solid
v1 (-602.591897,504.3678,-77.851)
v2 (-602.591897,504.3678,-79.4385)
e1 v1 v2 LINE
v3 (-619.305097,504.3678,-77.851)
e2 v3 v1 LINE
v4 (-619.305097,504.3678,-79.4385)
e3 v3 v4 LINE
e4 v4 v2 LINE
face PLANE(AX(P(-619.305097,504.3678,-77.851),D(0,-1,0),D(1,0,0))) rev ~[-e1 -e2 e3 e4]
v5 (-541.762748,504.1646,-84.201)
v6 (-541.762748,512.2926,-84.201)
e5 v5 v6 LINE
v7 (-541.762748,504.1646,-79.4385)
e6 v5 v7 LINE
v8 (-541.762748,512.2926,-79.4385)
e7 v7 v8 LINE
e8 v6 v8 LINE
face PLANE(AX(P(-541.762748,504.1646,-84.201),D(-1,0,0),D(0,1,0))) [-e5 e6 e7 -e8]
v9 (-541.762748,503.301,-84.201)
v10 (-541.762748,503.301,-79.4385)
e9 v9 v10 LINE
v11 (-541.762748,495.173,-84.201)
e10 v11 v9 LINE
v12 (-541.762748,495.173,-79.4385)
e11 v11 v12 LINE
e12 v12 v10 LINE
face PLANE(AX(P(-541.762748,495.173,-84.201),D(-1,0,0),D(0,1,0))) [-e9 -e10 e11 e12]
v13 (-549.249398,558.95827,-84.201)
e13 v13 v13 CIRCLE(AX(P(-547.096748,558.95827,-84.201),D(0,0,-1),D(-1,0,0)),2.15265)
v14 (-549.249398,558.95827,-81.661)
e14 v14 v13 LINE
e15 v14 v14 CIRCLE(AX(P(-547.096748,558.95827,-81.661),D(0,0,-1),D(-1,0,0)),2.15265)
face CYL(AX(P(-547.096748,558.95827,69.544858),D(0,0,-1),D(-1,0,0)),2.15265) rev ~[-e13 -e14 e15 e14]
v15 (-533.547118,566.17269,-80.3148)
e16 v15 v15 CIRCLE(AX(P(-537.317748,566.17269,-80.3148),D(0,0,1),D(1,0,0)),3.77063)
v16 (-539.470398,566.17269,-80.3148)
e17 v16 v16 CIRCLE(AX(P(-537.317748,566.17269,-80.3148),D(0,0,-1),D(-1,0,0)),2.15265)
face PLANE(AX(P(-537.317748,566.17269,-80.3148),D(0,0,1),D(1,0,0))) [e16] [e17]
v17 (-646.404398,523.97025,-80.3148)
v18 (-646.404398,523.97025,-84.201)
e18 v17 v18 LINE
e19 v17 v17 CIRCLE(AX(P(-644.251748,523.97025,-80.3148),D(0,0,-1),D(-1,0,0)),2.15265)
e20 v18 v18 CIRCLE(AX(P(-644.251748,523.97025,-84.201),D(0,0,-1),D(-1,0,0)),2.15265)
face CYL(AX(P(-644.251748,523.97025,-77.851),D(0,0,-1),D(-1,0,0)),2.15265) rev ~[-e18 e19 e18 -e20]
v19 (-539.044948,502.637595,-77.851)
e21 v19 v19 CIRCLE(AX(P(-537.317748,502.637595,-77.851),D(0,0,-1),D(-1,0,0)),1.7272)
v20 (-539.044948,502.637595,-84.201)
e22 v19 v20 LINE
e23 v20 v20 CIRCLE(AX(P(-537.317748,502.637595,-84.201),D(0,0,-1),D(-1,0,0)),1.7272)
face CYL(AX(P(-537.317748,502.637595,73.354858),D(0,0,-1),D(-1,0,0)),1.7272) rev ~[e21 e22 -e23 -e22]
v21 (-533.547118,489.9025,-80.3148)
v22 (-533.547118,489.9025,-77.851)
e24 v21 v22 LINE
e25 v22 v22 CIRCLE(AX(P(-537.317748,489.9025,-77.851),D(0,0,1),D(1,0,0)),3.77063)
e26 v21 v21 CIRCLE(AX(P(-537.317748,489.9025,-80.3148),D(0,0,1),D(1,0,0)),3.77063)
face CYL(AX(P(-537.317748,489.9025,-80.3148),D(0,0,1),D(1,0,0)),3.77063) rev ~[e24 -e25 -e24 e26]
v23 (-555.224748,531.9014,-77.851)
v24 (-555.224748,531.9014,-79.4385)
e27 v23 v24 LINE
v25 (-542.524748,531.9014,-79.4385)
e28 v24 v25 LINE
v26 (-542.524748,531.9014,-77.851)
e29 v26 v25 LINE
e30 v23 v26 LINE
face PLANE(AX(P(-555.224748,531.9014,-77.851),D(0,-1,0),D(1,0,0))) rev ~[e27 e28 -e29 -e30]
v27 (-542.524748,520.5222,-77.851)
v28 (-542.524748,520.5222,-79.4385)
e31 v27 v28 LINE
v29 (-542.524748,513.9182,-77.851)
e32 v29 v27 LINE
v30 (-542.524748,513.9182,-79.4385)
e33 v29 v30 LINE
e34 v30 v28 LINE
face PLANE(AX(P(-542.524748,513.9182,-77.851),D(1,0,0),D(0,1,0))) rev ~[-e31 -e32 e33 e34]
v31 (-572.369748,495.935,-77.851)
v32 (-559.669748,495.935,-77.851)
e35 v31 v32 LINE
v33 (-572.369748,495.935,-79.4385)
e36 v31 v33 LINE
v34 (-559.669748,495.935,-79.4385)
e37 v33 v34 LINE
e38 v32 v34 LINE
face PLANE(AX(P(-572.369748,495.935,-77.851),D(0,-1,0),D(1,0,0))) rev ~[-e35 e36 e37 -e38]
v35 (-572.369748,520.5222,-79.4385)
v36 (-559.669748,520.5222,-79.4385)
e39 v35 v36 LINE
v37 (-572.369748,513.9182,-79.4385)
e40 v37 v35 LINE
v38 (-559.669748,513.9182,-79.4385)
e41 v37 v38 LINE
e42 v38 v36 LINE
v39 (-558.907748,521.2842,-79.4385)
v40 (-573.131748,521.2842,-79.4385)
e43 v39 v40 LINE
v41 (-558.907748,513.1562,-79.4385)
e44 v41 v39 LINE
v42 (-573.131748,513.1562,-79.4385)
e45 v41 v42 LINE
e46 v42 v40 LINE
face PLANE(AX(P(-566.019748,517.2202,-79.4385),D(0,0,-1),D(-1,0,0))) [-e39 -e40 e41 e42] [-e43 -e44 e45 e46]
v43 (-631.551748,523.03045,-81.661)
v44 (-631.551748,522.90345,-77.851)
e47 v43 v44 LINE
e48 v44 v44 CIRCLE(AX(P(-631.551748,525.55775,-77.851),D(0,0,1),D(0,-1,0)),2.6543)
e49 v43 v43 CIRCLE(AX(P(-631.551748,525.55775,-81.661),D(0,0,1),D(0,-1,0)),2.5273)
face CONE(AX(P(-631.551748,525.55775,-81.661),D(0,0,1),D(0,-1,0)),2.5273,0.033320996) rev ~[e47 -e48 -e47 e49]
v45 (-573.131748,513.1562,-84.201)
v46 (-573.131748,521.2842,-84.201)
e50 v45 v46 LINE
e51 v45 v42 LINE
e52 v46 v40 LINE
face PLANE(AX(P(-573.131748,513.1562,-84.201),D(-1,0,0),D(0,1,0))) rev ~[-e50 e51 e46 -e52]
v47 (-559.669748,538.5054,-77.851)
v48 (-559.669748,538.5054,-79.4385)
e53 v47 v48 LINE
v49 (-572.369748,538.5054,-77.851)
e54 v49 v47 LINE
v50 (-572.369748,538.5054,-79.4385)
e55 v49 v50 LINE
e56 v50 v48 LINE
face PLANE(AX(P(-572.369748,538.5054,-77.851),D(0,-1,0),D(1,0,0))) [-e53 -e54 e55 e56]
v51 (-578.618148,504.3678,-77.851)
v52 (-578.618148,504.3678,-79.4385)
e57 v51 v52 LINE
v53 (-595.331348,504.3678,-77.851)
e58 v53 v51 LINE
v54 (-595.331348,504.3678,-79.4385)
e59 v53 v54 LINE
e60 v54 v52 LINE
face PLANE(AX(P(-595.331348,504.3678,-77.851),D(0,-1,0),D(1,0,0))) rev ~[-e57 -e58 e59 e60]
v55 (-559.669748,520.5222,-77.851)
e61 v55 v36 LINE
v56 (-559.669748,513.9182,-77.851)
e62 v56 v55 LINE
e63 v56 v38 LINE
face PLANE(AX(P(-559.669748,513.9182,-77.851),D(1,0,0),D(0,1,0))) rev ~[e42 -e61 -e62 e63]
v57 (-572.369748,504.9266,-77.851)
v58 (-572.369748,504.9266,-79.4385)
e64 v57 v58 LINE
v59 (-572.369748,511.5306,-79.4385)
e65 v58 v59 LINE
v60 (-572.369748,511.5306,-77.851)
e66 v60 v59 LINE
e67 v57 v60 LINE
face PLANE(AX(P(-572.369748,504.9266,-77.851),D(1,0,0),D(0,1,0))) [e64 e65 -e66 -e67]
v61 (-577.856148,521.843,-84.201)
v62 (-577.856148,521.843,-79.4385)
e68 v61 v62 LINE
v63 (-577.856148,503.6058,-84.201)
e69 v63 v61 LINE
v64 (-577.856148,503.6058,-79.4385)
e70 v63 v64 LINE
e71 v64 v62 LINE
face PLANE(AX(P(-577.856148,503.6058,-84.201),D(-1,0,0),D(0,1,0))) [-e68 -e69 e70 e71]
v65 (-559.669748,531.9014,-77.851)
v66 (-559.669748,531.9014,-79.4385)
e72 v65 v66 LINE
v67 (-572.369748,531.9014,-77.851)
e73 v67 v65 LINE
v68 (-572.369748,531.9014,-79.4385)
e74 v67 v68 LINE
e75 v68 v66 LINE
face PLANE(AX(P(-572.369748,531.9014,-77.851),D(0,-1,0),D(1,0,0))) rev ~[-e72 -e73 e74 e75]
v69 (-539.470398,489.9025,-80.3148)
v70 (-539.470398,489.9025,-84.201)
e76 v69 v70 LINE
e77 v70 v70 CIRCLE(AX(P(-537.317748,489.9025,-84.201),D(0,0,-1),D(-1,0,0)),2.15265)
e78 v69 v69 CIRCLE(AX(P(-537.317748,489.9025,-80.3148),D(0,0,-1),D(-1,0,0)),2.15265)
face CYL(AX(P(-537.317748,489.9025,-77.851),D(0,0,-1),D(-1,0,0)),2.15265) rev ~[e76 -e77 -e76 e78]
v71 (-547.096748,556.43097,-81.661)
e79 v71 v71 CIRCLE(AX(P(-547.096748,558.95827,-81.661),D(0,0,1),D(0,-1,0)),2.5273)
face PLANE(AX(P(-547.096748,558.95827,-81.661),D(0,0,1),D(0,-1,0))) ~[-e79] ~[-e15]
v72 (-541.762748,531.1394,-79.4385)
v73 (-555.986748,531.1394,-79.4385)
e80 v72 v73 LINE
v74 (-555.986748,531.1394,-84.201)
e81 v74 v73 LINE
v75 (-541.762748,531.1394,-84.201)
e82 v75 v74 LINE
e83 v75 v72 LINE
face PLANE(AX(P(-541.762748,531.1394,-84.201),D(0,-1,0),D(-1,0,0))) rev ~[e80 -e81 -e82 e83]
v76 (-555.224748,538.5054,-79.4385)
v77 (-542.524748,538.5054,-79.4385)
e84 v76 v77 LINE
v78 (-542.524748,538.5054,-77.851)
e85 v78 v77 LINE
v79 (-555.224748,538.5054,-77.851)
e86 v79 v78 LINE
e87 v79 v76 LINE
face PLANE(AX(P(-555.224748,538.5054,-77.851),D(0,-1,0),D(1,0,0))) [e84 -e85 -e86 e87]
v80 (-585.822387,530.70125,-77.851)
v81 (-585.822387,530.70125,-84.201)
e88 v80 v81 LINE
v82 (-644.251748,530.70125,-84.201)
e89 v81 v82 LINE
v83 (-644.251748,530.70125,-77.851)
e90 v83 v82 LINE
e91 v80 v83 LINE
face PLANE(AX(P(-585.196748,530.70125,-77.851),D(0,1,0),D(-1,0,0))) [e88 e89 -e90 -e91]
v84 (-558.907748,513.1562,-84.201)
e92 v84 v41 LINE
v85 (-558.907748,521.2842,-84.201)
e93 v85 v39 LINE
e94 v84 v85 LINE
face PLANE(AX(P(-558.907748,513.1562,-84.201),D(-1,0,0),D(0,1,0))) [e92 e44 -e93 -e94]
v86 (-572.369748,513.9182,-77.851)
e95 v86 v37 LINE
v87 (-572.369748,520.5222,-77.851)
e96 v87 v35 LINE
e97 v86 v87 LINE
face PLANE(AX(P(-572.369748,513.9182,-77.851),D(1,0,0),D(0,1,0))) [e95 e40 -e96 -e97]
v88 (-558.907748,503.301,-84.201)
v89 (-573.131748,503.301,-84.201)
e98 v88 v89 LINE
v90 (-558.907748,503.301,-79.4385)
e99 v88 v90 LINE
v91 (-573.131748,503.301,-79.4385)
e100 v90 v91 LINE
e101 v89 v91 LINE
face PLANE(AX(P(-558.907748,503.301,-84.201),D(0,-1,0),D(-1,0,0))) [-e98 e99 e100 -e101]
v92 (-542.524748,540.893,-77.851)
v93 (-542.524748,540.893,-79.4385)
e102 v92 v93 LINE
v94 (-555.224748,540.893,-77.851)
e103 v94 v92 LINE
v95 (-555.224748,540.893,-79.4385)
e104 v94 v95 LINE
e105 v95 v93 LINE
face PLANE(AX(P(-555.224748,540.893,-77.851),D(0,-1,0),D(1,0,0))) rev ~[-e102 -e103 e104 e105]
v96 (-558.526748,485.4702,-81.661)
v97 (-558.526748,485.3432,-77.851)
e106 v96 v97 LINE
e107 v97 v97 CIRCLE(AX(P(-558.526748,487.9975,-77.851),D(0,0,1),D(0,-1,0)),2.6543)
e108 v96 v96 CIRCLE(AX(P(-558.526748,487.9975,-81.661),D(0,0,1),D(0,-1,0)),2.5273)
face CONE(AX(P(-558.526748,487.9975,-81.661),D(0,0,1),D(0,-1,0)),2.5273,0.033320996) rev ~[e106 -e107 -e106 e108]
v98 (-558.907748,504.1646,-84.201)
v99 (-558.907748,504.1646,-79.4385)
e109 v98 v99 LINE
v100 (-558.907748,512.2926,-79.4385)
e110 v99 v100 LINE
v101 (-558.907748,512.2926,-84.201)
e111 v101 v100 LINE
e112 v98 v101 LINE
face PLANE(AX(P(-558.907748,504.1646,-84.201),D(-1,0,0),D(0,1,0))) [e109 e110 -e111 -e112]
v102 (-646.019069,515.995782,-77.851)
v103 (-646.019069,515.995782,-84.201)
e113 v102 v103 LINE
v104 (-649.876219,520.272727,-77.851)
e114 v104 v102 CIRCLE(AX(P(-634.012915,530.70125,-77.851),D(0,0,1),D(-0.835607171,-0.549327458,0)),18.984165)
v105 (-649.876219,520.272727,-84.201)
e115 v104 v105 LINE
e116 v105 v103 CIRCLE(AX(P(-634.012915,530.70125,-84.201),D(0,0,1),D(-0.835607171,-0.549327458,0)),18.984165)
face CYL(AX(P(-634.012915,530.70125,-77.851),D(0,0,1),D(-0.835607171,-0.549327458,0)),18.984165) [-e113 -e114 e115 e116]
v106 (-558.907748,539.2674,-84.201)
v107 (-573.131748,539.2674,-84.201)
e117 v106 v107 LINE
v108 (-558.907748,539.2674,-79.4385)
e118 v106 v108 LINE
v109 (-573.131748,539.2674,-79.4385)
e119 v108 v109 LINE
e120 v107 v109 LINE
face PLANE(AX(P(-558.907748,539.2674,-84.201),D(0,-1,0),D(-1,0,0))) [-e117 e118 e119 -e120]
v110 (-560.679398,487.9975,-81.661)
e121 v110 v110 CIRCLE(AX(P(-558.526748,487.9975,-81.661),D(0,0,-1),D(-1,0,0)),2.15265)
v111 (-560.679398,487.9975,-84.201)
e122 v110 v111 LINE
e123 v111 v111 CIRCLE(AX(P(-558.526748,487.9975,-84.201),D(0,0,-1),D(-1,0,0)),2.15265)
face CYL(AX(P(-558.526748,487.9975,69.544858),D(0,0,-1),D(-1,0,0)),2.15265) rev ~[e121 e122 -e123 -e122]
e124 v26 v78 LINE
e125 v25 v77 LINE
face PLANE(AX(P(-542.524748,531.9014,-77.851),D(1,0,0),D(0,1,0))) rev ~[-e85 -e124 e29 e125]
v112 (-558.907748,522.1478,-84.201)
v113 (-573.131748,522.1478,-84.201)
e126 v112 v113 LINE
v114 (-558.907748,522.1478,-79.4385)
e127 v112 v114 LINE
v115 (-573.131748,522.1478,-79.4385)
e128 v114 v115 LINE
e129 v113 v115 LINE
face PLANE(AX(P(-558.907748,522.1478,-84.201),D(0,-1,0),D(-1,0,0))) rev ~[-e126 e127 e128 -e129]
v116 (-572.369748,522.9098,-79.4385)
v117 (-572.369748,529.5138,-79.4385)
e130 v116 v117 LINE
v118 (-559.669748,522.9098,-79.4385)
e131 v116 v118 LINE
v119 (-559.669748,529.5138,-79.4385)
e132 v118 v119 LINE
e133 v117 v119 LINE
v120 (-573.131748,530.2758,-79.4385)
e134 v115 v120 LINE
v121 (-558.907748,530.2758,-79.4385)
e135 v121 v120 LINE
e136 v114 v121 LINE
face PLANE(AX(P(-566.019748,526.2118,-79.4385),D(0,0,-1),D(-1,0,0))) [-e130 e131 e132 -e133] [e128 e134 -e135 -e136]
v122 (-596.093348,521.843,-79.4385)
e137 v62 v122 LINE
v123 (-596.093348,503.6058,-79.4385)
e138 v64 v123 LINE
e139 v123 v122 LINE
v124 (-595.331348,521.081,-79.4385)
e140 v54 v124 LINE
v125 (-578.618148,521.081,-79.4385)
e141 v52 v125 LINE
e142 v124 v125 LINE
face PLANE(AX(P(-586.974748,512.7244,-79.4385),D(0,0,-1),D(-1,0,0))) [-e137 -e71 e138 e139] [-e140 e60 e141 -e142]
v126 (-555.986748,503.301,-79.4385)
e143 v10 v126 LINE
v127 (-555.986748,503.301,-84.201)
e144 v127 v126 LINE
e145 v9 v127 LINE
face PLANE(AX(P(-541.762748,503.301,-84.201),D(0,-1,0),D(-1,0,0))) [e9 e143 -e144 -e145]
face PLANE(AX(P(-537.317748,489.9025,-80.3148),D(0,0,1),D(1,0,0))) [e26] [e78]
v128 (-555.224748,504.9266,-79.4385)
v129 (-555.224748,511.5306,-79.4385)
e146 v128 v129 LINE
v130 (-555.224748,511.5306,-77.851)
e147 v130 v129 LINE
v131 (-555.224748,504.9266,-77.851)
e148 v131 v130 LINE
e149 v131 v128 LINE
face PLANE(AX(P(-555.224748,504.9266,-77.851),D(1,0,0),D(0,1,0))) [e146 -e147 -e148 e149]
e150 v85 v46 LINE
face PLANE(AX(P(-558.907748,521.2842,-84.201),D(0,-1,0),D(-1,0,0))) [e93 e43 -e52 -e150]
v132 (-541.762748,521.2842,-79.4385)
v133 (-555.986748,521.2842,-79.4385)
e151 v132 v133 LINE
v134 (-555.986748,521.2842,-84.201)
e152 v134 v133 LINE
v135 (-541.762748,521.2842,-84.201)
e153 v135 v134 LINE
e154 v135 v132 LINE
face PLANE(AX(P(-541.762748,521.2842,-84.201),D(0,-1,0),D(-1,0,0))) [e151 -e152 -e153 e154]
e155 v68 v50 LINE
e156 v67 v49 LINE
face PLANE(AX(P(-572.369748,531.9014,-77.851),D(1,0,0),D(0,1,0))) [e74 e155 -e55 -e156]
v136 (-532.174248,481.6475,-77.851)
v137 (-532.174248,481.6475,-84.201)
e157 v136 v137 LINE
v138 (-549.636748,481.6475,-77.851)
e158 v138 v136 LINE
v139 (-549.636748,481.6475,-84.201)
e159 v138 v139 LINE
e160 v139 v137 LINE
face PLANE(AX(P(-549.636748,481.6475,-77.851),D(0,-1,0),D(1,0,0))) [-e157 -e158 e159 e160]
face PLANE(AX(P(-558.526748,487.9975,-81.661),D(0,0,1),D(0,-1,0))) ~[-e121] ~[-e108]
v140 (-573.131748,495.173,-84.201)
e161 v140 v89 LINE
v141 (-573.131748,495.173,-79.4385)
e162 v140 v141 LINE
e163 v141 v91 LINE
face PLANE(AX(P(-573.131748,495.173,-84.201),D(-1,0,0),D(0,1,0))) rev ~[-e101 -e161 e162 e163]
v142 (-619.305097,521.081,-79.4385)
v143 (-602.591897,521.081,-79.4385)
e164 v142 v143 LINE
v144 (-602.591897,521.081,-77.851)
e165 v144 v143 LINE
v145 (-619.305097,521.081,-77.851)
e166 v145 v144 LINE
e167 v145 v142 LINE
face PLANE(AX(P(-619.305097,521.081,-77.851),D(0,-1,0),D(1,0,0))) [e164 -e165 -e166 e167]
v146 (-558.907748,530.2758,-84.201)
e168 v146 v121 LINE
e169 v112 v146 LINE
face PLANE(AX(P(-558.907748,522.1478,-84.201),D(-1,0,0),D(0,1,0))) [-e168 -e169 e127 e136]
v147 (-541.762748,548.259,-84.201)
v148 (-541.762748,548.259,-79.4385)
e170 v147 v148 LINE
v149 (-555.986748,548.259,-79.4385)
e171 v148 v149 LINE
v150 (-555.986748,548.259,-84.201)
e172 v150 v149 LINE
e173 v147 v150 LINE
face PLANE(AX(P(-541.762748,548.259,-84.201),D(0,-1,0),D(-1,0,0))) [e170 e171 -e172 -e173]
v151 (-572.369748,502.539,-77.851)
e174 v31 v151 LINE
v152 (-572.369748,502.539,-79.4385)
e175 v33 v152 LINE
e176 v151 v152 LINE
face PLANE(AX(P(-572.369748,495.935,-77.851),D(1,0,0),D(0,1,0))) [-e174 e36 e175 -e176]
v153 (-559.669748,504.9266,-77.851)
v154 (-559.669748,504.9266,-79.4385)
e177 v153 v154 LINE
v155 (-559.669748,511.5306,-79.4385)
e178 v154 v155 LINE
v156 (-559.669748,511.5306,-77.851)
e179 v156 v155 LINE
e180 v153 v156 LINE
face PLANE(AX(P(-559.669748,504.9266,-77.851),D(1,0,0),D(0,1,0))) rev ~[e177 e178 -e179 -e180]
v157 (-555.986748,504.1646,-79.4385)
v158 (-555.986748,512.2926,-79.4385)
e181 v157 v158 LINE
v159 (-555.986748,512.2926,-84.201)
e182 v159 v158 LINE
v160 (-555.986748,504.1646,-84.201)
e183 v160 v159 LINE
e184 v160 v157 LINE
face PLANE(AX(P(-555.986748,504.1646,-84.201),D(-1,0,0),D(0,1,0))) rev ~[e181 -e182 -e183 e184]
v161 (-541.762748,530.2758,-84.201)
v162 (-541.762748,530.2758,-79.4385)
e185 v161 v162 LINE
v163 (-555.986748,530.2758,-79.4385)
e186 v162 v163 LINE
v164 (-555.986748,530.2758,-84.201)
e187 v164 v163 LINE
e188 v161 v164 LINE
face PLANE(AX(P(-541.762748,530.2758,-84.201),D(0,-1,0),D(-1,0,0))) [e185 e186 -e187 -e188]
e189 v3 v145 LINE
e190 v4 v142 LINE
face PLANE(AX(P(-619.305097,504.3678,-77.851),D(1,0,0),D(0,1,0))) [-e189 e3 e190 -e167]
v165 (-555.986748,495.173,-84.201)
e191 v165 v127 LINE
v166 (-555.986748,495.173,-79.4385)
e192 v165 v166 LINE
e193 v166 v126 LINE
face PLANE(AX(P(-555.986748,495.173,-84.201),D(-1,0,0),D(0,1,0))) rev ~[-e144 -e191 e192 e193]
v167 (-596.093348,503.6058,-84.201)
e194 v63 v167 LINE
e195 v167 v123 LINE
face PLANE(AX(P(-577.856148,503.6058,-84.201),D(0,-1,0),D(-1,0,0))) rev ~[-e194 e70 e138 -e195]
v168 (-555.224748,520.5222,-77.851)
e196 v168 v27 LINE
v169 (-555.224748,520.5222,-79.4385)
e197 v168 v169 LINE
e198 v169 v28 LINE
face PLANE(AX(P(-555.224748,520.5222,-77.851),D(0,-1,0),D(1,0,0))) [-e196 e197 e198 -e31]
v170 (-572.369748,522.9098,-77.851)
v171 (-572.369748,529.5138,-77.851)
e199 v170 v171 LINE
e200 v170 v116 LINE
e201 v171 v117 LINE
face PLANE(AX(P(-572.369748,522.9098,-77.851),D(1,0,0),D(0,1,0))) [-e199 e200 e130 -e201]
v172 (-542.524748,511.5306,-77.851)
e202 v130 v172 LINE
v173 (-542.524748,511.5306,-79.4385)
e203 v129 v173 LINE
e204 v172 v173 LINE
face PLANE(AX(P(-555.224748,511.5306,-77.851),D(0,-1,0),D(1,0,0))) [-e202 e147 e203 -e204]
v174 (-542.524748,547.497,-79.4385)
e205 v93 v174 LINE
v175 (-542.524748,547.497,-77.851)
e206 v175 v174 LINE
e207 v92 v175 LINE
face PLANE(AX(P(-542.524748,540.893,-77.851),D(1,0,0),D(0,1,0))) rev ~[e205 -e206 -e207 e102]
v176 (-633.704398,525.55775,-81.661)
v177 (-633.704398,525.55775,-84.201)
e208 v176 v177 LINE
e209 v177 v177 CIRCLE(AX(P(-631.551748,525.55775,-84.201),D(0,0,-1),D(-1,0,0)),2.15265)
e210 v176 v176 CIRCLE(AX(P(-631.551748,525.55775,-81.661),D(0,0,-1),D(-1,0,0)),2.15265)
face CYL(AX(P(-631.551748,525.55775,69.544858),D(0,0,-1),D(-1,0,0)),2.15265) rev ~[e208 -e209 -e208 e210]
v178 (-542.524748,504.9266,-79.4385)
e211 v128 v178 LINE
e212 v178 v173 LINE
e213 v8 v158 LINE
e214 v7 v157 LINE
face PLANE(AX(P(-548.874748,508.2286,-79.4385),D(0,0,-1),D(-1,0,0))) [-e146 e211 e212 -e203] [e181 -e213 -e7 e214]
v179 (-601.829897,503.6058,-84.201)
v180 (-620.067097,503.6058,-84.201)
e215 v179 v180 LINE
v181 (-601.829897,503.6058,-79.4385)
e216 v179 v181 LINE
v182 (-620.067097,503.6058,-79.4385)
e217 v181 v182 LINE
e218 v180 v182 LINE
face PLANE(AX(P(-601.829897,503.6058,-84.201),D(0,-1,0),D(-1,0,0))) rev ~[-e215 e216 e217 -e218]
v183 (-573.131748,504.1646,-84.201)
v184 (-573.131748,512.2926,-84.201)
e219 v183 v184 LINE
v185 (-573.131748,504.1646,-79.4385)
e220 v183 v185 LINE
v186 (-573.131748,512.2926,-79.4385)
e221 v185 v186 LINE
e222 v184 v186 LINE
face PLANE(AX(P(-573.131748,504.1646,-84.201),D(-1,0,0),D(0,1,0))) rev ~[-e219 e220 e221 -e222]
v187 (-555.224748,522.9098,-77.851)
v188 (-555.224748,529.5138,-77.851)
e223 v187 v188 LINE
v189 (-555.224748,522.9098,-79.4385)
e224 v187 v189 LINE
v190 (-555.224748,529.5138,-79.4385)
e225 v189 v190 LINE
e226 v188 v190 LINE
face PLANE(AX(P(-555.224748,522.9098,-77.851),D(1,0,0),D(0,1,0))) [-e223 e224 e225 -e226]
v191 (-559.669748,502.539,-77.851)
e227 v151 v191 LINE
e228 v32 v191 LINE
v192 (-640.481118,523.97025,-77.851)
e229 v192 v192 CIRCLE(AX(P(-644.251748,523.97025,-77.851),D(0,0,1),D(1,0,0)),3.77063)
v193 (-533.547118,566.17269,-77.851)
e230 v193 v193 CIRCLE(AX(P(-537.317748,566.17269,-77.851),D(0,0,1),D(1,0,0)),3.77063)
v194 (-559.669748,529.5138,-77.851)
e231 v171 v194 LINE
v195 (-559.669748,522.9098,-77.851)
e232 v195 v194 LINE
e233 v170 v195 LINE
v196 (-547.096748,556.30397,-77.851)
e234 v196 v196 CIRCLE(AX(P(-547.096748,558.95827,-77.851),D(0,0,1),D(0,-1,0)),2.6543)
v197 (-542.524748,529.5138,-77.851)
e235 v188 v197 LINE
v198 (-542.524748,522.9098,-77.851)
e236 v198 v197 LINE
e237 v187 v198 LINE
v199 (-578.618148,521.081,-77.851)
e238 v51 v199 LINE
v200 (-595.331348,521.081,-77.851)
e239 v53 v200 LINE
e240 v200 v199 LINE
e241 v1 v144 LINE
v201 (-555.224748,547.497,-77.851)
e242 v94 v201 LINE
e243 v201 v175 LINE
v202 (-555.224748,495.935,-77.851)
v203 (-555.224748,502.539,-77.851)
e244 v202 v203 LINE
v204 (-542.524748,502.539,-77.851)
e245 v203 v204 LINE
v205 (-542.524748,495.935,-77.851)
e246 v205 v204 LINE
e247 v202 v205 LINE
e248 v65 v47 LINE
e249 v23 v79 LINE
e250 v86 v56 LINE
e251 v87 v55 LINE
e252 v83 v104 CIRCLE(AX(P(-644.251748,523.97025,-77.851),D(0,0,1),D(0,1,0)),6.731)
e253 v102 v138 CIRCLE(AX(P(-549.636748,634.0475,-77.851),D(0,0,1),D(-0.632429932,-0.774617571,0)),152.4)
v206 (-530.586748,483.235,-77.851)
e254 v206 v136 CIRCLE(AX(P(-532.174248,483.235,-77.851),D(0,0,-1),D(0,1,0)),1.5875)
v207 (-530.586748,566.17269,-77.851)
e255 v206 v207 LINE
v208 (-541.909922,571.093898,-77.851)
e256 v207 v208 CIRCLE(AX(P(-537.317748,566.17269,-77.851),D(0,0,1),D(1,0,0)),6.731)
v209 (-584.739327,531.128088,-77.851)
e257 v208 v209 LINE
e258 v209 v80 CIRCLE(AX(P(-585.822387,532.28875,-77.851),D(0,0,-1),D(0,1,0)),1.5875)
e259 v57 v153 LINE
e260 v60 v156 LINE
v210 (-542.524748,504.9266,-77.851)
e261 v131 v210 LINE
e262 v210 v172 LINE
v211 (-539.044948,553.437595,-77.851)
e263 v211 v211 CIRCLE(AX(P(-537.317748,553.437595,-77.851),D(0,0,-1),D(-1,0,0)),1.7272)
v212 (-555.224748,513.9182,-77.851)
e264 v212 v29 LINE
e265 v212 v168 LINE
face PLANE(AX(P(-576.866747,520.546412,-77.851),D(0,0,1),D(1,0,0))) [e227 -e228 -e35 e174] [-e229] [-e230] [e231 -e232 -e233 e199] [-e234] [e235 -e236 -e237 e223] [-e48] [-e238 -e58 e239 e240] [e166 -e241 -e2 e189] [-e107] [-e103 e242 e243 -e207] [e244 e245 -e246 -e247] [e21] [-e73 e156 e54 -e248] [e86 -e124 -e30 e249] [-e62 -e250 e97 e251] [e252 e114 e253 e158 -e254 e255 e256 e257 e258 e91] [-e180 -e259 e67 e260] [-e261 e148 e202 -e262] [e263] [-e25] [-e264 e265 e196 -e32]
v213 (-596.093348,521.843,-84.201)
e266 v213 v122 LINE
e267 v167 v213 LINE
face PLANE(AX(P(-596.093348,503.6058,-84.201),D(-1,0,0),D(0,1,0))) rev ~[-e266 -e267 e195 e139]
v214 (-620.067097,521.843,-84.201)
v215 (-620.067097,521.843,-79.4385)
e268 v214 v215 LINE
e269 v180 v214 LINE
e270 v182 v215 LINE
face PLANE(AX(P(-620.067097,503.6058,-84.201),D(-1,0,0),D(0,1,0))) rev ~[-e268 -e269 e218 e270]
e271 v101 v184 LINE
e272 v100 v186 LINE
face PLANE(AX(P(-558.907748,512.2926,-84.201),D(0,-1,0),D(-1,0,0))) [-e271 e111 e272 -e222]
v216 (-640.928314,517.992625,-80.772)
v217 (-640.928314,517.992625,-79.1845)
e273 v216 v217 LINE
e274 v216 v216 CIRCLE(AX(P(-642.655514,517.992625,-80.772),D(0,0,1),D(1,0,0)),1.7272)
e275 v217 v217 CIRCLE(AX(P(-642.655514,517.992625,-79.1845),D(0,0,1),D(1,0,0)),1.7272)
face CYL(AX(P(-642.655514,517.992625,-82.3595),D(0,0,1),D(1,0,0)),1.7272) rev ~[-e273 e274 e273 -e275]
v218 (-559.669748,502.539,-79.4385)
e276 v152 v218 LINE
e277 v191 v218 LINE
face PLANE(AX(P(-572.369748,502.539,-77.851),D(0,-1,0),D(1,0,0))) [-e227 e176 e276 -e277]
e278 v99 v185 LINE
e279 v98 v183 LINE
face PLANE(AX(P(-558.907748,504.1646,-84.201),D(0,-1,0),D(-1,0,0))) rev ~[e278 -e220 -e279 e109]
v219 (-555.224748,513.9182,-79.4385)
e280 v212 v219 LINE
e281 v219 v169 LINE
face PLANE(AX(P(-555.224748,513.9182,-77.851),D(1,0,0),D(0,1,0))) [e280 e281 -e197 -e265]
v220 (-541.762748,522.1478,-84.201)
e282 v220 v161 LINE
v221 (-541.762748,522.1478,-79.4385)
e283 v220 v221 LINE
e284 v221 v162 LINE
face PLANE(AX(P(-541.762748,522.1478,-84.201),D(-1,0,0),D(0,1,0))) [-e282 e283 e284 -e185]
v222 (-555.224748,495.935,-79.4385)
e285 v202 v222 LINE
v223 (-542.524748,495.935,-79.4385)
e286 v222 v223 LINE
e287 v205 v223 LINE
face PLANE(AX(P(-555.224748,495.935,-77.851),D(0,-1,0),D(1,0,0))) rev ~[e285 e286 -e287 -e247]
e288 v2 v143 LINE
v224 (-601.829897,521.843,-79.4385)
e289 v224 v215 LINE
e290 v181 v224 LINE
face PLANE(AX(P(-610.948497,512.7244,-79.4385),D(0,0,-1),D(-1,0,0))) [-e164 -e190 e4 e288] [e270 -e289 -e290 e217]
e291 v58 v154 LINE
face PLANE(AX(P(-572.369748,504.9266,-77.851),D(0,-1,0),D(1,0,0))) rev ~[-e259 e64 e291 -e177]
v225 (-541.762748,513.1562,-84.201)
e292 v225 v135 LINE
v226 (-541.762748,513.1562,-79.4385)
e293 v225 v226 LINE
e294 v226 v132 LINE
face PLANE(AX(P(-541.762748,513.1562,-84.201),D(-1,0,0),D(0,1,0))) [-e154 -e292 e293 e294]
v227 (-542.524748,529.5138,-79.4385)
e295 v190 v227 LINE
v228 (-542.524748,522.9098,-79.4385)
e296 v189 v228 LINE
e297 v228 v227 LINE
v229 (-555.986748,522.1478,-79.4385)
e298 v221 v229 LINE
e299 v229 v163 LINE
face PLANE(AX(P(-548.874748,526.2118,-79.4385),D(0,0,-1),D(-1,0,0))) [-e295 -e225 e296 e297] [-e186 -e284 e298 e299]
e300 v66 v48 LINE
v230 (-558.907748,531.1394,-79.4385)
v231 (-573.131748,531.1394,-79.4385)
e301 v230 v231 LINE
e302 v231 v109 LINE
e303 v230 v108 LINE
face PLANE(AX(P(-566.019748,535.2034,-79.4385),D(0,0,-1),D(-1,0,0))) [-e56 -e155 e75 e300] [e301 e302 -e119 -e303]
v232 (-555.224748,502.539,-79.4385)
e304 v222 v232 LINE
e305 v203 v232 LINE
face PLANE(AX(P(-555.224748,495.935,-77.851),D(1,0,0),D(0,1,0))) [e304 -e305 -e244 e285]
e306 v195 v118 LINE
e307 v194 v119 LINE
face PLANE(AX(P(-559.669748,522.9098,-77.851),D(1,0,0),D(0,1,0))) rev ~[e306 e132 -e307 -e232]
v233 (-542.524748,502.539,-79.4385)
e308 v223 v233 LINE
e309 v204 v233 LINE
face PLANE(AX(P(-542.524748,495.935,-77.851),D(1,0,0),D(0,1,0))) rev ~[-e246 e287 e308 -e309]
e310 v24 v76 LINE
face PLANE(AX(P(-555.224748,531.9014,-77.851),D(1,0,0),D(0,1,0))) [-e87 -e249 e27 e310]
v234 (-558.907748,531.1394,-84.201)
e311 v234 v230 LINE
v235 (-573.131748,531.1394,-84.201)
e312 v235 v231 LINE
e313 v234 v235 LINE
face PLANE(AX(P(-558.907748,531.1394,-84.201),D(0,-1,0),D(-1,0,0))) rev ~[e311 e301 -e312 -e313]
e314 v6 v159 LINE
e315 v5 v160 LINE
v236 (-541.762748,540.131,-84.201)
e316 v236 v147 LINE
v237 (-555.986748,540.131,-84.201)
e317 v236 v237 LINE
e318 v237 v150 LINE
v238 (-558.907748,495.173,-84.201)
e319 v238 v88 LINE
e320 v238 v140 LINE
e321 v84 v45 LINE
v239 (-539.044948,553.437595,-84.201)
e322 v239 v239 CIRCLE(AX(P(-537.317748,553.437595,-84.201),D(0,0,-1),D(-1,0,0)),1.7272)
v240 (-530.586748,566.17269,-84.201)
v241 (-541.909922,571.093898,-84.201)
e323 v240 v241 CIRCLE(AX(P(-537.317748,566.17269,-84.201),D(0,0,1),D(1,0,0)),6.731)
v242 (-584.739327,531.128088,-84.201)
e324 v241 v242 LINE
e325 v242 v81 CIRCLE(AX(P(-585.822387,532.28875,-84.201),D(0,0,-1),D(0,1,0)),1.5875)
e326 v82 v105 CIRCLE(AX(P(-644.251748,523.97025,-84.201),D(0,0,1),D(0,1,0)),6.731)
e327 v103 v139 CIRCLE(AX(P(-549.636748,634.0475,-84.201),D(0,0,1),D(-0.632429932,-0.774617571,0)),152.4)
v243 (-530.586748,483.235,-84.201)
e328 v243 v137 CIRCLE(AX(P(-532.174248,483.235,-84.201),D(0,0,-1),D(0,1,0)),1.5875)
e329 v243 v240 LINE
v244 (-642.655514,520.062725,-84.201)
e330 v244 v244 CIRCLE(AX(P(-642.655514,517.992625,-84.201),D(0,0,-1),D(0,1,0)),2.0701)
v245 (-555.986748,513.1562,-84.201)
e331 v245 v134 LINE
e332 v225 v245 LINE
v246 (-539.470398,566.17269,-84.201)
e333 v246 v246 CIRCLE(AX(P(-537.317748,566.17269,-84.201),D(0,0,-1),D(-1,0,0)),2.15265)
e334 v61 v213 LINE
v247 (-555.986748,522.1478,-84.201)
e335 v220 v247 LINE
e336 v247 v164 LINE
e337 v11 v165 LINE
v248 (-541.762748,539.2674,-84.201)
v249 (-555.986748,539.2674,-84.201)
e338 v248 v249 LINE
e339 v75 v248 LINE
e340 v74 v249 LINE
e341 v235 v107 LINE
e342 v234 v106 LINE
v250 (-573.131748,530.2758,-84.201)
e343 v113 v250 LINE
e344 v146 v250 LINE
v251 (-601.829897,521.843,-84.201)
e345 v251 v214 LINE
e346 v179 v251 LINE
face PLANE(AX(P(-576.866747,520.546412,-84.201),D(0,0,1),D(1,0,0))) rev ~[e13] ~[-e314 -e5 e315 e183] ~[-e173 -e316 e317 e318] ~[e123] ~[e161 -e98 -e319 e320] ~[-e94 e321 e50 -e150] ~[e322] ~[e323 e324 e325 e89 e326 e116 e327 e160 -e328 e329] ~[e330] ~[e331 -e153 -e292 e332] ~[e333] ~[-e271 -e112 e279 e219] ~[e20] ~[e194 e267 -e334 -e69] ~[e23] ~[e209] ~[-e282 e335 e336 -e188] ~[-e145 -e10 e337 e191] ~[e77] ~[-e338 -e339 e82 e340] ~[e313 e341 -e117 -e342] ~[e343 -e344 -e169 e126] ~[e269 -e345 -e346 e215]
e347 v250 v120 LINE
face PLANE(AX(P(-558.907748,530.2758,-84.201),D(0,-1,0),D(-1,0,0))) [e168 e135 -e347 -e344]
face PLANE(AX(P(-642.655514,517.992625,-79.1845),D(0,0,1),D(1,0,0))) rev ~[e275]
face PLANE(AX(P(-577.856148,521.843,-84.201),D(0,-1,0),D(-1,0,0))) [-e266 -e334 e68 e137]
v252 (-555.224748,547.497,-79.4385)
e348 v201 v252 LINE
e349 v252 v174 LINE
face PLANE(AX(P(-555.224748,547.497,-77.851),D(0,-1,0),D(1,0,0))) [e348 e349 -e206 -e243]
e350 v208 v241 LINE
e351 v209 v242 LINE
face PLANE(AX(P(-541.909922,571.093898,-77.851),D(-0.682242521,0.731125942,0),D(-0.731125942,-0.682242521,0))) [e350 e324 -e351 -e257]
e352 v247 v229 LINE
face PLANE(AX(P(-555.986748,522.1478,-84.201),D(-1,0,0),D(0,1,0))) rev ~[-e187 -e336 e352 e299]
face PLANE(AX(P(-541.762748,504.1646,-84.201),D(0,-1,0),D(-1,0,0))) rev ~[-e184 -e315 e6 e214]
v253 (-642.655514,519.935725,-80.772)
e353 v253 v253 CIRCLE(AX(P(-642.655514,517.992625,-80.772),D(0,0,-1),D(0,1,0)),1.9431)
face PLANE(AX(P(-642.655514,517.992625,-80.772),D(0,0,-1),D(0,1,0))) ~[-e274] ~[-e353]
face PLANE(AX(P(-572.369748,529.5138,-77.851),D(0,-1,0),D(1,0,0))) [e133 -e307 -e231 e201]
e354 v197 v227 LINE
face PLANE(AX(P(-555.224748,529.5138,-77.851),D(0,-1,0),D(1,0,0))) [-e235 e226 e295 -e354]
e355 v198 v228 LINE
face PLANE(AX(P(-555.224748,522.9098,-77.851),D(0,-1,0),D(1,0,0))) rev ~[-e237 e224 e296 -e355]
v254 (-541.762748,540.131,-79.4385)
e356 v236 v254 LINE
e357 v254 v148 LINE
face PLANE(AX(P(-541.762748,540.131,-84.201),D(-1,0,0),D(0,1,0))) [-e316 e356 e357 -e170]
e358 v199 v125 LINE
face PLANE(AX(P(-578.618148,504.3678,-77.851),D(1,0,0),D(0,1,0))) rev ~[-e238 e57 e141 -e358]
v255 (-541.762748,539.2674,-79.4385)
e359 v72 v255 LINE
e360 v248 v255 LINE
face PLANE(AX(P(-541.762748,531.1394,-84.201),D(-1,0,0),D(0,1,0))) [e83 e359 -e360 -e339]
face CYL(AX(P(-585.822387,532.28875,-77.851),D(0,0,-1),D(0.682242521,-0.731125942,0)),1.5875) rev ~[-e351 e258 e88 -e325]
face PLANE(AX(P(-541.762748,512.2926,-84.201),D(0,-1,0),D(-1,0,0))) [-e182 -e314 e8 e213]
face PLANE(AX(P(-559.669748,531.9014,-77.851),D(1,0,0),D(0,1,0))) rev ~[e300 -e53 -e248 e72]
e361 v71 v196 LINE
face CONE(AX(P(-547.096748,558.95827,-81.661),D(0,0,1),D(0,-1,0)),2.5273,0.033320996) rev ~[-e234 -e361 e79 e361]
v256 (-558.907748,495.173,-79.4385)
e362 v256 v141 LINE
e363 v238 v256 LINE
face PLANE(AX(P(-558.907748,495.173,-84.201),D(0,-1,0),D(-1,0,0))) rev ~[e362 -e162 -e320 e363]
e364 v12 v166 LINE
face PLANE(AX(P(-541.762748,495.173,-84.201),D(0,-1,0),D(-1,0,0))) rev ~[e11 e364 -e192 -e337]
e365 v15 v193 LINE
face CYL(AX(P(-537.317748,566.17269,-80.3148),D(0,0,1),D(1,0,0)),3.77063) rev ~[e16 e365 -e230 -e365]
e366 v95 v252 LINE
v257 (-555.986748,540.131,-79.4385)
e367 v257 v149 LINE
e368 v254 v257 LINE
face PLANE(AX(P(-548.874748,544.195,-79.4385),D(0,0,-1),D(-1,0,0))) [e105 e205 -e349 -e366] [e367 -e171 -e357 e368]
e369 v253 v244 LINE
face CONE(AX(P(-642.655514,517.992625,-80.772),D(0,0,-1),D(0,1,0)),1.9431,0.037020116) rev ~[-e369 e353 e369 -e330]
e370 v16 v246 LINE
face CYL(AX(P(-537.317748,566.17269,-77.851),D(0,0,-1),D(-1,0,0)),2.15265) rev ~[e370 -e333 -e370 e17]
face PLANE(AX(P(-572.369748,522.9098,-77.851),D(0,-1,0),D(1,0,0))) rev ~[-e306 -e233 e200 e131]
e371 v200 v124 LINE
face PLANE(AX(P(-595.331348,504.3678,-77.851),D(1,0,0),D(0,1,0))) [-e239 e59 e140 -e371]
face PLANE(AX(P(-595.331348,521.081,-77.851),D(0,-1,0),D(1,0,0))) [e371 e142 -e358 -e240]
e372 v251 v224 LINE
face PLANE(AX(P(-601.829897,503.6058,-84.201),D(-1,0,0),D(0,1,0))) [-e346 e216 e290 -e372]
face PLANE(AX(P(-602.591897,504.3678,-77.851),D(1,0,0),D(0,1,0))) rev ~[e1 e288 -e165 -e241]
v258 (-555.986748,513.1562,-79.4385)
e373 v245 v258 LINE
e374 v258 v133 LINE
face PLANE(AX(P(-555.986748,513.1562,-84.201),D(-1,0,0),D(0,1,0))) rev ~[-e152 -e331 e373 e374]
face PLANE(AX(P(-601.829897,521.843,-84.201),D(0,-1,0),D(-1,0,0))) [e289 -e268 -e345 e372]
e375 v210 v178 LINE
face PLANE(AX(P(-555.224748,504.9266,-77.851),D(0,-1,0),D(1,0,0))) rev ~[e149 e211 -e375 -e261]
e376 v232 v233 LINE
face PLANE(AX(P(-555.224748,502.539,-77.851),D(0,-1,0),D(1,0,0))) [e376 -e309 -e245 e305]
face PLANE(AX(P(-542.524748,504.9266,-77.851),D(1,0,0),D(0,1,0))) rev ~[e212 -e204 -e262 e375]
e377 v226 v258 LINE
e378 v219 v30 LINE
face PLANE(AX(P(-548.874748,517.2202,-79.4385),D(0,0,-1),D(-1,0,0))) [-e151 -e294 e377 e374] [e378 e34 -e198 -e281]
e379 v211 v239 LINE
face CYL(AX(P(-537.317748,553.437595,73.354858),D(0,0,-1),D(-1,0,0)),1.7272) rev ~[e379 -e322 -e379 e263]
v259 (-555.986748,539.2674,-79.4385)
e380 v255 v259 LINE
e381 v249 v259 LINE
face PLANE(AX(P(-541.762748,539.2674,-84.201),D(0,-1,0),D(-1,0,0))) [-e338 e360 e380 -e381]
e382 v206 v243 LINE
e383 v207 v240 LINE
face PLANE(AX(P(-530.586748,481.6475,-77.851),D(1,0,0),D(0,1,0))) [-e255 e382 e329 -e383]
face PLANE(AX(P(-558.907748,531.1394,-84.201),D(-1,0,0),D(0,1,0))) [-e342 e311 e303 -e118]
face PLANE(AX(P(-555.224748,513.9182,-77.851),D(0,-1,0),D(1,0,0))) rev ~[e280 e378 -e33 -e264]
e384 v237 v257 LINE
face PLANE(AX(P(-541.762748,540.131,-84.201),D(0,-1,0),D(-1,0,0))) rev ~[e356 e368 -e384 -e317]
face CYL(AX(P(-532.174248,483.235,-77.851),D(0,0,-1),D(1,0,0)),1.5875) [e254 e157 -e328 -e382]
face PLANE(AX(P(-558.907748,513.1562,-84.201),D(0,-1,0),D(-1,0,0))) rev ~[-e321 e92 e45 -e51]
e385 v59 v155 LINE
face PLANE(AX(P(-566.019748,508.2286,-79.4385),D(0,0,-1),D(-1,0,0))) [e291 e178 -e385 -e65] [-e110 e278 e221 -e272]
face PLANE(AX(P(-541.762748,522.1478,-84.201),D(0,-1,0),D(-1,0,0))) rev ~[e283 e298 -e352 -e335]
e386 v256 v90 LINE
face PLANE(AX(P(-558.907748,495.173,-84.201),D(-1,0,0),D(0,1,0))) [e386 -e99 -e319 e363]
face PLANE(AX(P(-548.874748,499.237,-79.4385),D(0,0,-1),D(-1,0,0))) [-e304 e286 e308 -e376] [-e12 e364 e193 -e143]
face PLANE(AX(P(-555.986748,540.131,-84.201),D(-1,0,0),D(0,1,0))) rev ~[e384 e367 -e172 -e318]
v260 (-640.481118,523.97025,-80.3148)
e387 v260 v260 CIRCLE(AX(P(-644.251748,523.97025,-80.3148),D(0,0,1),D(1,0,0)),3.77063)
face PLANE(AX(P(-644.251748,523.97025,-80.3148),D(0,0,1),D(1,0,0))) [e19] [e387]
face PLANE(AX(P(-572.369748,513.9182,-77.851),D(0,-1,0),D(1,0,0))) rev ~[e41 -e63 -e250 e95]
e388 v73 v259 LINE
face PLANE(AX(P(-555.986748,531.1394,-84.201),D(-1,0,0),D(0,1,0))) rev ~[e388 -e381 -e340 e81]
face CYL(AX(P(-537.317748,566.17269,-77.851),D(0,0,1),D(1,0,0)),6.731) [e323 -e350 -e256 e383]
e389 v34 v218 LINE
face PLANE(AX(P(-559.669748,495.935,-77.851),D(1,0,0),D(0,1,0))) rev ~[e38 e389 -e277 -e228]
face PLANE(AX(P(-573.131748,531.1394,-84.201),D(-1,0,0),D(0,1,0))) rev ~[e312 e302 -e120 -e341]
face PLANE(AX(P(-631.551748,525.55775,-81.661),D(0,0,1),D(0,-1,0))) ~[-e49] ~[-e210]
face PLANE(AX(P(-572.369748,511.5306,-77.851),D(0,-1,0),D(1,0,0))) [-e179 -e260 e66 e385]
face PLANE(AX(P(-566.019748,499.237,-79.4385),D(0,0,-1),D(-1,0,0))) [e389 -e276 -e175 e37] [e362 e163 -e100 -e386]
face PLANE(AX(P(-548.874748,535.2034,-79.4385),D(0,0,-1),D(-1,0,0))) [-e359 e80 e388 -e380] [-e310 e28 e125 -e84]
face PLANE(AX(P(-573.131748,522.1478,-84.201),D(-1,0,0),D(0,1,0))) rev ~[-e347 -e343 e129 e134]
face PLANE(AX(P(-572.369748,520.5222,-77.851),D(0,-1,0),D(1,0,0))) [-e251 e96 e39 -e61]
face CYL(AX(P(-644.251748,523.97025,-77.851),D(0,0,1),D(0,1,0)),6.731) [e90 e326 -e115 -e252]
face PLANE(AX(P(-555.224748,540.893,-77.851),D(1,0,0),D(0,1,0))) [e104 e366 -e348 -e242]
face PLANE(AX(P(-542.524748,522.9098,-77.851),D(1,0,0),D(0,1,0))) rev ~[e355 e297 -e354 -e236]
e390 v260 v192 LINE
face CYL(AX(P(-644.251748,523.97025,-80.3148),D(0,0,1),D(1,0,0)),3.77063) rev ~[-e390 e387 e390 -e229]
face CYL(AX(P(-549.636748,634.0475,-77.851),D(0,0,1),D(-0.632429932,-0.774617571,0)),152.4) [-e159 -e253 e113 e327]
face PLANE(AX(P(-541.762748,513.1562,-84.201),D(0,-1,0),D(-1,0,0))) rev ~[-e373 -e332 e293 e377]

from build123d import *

# Parameters (mm, degrees)
SKETCH2_W                                       = 12.7
SKETCH2_H                                       = 6.604
SKETCH2_W_2                                     = 16.7132
SKETCH2_H_2                                     = 16.7132
BOSS_EXTRUDE1_DEPTH                             = 6.35
CBORE_FOR_6_PAN_HEAD_MACHINE_SCREW1_D           = 4.3053
CBORE_FOR_6_PAN_HEAD_MACHINE_SCREW1_CBORE_D     = 7.54126
CBORE_FOR_6_PAN_HEAD_MACHINE_SCREW1_CBORE_DEPTH = 2.4638
F_6_THREADED_INSERT_TAPERED_HOLE_AT_2_COUNT     = 2
F_6_THREADED_INSERT_TAPERED_HOLE_AT_2_PITCH     = 71.875418055
F_6_THREADED_INSERT_TAPERED_HOLE_AT_3_COUNT     = 2
F_6_THREADED_INSERT_TAPERED_HOLE_AT_3_PITCH     = 82.118347554
SKETCH7_W                                       = 16.7132
SKETCH7_H                                       = 16.7132
CUT_EXTRUDE1_DEPTH                              = 7.35
SKETCH8_W                                       = 14.224
SKETCH8_H                                       = 8.128
SKETCH8_W_2                                     = 18.2372
SKETCH8_H_2                                     = 18.2372
CUT_EXTRUDE2_DEPTH                              = 4.7625
FILLET1_R                                       = 1.5875
F_4_CLEARANCE_HOLE1_D                           = 3.4544
F_4_CLEARANCE_HOLE2_D                           = 3.4544
F_4_CLEARANCE_HOLE2_DEPTH                       = 1.5875
F_6_CLEARANCE_HOLE1_D                           = 4.3053


with BuildPart() as part:
    # Sketch2 → Boss-Extrude1 (new body)
    with BuildSketch(Plane.XY.offset(-77.851)):
        with BuildLine():
            Line((-530.586747576, 481.6475), (-530.586747576, 566.172689586))
            ThreePointArc((-530.586747576, 566.172689586), (-534.634798168, 572.345868951), (-541.909921986, 571.093898298))
            Line((-541.909921986, 571.093898298), (-585.196747576, 530.70125))
            Line((-585.196747576, 530.70125), (-644.251747576, 530.70125))
            ThreePointArc((-644.251747576, 530.70125), (-650.176036104, 527.165428624), (-649.876219443, 520.272726881))
            ThreePointArc((-649.876219443, 520.272726881), (-648.110778149, 517.987132771), (-646.019069209, 515.995782195))
            ThreePointArc((-646.019069209, 515.995782195), (-600.796684082, 490.491166469), (-549.636747576, 481.6475))
            Line((-549.636747576, 481.6475), (-530.586747576, 481.6475))
        make_face()
        with Locations((-566.019747576, 499.237)):
            Rectangle(SKETCH2_W, SKETCH2_H, mode=Mode.SUBTRACT)
        with Locations((-566.019747576, 508.2286)):
            Rectangle(SKETCH2_W, SKETCH2_H, mode=Mode.SUBTRACT)
        with Locations((-548.874747576, 499.237)):
            Rectangle(SKETCH2_W, SKETCH2_H, mode=Mode.SUBTRACT)
        with Locations((-548.874747576, 508.2286)):
            Rectangle(SKETCH2_W, SKETCH2_H, mode=Mode.SUBTRACT)
        with Locations((-548.874747576, 517.2202)):
            Rectangle(SKETCH2_W, SKETCH2_H, mode=Mode.SUBTRACT)
        with Locations((-566.019747576, 517.2202)):
            Rectangle(SKETCH2_W, SKETCH2_H, mode=Mode.SUBTRACT)
        with Locations((-566.019747576, 526.2118)):
            Rectangle(SKETCH2_W, SKETCH2_H, mode=Mode.SUBTRACT)
        with Locations((-548.874747576, 526.2118)):
            Rectangle(SKETCH2_W, SKETCH2_H, mode=Mode.SUBTRACT)
        with Locations((-548.874747576, 535.2034)):
            Rectangle(SKETCH2_W, SKETCH2_H, mode=Mode.SUBTRACT)
        with Locations((-566.019747576, 535.2034)):
            Rectangle(SKETCH2_W, SKETCH2_H, mode=Mode.SUBTRACT)
        with Locations((-548.874747576, 544.195)):
            Rectangle(SKETCH2_W, SKETCH2_H, mode=Mode.SUBTRACT)
        with Locations((-586.974747576, 512.7244)):
            Rectangle(SKETCH2_W_2, SKETCH2_H_2, mode=Mode.SUBTRACT)
    extrude(amount=-BOSS_EXTRUDE1_DEPTH)

    # CBORE for #6 Pan Head Machine Screw1 (through all)
    with Locations(Plane.XY.offset(-77.851)):
        with Locations((-537.317747576, 489.9025), (-537.317747576, 566.172689586), (-644.251747576, 523.97025)):
            CounterBoreHole(CBORE_FOR_6_PAN_HEAD_MACHINE_SCREW1_D / 2, CBORE_FOR_6_PAN_HEAD_MACHINE_SCREW1_CBORE_D / 2, CBORE_FOR_6_PAN_HEAD_MACHINE_SCREW1_CBORE_DEPTH)

    # Sketch5 → #6 Threaded Insert Tapered Hole (revolve, cut)
    with BuildSketch(Plane(origin=(-558.526747576, 487.9975, -77.851), x_dir=(0, -1, 0), z_dir=(1, 0, 0))):
        Polygon((0, 0), (0, 3.81), (2.5273, 3.81), (2.6543, 0), align=None)
    f_6_threaded_insert_tapered_hole = revolve(axis=Axis((-558.526747576, 487.9975, -187.851), (0, 0, 1)), mode=Mode.SUBTRACT)

    # #6 Threaded Insert Tapered Hole at 2: #6 Threaded Insert Tapered Hole ×2
    with Locations(*[Vector(0.159025162, 0.98727453, 0) * (i * F_6_THREADED_INSERT_TAPERED_HOLE_AT_2_PITCH) for i in range(1, F_6_THREADED_INSERT_TAPERED_HOLE_AT_2_COUNT)]):
        add(f_6_threaded_insert_tapered_hole, mode=Mode.SUBTRACT)

    # #6 Threaded Insert Tapered Hole at 3: #6 Threaded Insert Tapered Hole ×2
    with Locations(*[Vector(-0.889265337, 0.457391693, 0) * (i * F_6_THREADED_INSERT_TAPERED_HOLE_AT_3_PITCH) for i in range(1, F_6_THREADED_INSERT_TAPERED_HOLE_AT_3_COUNT)]):
        add(f_6_threaded_insert_tapered_hole, mode=Mode.SUBTRACT)

    # Sketch7 → Cut-Extrude1 (cut, through all)
    with BuildSketch(Plane.XY.offset(-77.851)):
        with Locations((-610.948497092, 512.7244)):
            Rectangle(SKETCH7_W, SKETCH7_H)
    extrude(amount=-CUT_EXTRUDE1_DEPTH, mode=Mode.SUBTRACT)

    # Sketch8 → Cut-Extrude2 (cut)
    with BuildSketch(Plane(origin=(0, 0, -84.201), x_dir=(-1, 0, 0), z_dir=(0, 0, -1))):
        with Locations((548.874747576, 544.195)):
            Rectangle(SKETCH8_W, SKETCH8_H)
        with Locations((548.874747576, 535.2034)):
            Rectangle(SKETCH8_W, SKETCH8_H)
        with Locations((548.874747576, 526.2118)):
            Rectangle(SKETCH8_W, SKETCH8_H)
        with Locations((548.874747576, 517.2202)):
            Rectangle(SKETCH8_W, SKETCH8_H)
        with Locations((548.874747576, 508.2286)):
            Rectangle(SKETCH8_W, SKETCH8_H)
        with Locations((548.874747576, 499.237)):
            Rectangle(SKETCH8_W, SKETCH8_H)
        with Locations((566.019747576, 535.2034)):
            Rectangle(SKETCH8_W, SKETCH8_H)
        with Locations((566.019747576, 526.2118)):
            Rectangle(SKETCH8_W, SKETCH8_H)
        with Locations((566.019747576, 517.2202)):
            Rectangle(SKETCH8_W, SKETCH8_H)
        with Locations((566.019747576, 508.2286)):
            Rectangle(SKETCH8_W, SKETCH8_H)
        with Locations((566.019747576, 499.237)):
            Rectangle(SKETCH8_W, SKETCH8_H)
        with Locations((586.974747576, 512.7244)):
            Rectangle(SKETCH8_W_2, SKETCH8_H_2)
        with Locations((610.948497092, 512.7244)):
            Rectangle(SKETCH8_W_2, SKETCH8_H_2)
    extrude(amount=-CUT_EXTRUDE2_DEPTH, mode=Mode.SUBTRACT)

    # Fillet1
    fillet1_edges = [part.edges().sort_by_distance(p)[0] for p in [
        (-585.196747576, 530.70125, -81.026),
        (-530.586747576, 481.6475, -81.026),
    ]]
    fillet(fillet1_edges, radius=FILLET1_R)

    # #4 Clearance Hole1 (through all)
    with Locations(Plane.XY.offset(-77.851)):
        with Locations((-537.317747576, 502.637594793), (-537.317747576, 553.437594793)):
            Hole(F_4_CLEARANCE_HOLE1_D / 2)

    # Sketch11 → Hole2 (revolve, cut)
    with BuildSketch(Plane(origin=(-642.655514401, 517.992624646, -84.201), x_dir=(0, 1, 0), z_dir=(1, 0, 0))):
        Polygon((0, 0), (0, 3.429), (1.9431, 3.429), (2.0701, 0), align=None)
    revolve(axis=Axis((-642.655514401, 517.992624646, 25.799), (0, 0, -1)), mode=Mode.SUBTRACT)

    # #4 Clearance Hole2
    with Locations(Plane(origin=(0, 0, -80.772), x_dir=(-1, 0, 0), z_dir=(0, 0, -1))):
        with Locations((642.655514401, 517.992624646)):
            Hole(F_4_CLEARANCE_HOLE2_D / 2, depth=F_4_CLEARANCE_HOLE2_DEPTH)

    # #6 Clearance Hole1 (through all)
    with Locations(Plane.XY.offset(-81.661)):
        with Locations((-558.526747576, 487.9975), (-631.551747576, 525.55775), (-547.096747576, 558.958269588)):
            Hole(F_6_CLEARANCE_HOLE1_D / 2)


solid = part.part
